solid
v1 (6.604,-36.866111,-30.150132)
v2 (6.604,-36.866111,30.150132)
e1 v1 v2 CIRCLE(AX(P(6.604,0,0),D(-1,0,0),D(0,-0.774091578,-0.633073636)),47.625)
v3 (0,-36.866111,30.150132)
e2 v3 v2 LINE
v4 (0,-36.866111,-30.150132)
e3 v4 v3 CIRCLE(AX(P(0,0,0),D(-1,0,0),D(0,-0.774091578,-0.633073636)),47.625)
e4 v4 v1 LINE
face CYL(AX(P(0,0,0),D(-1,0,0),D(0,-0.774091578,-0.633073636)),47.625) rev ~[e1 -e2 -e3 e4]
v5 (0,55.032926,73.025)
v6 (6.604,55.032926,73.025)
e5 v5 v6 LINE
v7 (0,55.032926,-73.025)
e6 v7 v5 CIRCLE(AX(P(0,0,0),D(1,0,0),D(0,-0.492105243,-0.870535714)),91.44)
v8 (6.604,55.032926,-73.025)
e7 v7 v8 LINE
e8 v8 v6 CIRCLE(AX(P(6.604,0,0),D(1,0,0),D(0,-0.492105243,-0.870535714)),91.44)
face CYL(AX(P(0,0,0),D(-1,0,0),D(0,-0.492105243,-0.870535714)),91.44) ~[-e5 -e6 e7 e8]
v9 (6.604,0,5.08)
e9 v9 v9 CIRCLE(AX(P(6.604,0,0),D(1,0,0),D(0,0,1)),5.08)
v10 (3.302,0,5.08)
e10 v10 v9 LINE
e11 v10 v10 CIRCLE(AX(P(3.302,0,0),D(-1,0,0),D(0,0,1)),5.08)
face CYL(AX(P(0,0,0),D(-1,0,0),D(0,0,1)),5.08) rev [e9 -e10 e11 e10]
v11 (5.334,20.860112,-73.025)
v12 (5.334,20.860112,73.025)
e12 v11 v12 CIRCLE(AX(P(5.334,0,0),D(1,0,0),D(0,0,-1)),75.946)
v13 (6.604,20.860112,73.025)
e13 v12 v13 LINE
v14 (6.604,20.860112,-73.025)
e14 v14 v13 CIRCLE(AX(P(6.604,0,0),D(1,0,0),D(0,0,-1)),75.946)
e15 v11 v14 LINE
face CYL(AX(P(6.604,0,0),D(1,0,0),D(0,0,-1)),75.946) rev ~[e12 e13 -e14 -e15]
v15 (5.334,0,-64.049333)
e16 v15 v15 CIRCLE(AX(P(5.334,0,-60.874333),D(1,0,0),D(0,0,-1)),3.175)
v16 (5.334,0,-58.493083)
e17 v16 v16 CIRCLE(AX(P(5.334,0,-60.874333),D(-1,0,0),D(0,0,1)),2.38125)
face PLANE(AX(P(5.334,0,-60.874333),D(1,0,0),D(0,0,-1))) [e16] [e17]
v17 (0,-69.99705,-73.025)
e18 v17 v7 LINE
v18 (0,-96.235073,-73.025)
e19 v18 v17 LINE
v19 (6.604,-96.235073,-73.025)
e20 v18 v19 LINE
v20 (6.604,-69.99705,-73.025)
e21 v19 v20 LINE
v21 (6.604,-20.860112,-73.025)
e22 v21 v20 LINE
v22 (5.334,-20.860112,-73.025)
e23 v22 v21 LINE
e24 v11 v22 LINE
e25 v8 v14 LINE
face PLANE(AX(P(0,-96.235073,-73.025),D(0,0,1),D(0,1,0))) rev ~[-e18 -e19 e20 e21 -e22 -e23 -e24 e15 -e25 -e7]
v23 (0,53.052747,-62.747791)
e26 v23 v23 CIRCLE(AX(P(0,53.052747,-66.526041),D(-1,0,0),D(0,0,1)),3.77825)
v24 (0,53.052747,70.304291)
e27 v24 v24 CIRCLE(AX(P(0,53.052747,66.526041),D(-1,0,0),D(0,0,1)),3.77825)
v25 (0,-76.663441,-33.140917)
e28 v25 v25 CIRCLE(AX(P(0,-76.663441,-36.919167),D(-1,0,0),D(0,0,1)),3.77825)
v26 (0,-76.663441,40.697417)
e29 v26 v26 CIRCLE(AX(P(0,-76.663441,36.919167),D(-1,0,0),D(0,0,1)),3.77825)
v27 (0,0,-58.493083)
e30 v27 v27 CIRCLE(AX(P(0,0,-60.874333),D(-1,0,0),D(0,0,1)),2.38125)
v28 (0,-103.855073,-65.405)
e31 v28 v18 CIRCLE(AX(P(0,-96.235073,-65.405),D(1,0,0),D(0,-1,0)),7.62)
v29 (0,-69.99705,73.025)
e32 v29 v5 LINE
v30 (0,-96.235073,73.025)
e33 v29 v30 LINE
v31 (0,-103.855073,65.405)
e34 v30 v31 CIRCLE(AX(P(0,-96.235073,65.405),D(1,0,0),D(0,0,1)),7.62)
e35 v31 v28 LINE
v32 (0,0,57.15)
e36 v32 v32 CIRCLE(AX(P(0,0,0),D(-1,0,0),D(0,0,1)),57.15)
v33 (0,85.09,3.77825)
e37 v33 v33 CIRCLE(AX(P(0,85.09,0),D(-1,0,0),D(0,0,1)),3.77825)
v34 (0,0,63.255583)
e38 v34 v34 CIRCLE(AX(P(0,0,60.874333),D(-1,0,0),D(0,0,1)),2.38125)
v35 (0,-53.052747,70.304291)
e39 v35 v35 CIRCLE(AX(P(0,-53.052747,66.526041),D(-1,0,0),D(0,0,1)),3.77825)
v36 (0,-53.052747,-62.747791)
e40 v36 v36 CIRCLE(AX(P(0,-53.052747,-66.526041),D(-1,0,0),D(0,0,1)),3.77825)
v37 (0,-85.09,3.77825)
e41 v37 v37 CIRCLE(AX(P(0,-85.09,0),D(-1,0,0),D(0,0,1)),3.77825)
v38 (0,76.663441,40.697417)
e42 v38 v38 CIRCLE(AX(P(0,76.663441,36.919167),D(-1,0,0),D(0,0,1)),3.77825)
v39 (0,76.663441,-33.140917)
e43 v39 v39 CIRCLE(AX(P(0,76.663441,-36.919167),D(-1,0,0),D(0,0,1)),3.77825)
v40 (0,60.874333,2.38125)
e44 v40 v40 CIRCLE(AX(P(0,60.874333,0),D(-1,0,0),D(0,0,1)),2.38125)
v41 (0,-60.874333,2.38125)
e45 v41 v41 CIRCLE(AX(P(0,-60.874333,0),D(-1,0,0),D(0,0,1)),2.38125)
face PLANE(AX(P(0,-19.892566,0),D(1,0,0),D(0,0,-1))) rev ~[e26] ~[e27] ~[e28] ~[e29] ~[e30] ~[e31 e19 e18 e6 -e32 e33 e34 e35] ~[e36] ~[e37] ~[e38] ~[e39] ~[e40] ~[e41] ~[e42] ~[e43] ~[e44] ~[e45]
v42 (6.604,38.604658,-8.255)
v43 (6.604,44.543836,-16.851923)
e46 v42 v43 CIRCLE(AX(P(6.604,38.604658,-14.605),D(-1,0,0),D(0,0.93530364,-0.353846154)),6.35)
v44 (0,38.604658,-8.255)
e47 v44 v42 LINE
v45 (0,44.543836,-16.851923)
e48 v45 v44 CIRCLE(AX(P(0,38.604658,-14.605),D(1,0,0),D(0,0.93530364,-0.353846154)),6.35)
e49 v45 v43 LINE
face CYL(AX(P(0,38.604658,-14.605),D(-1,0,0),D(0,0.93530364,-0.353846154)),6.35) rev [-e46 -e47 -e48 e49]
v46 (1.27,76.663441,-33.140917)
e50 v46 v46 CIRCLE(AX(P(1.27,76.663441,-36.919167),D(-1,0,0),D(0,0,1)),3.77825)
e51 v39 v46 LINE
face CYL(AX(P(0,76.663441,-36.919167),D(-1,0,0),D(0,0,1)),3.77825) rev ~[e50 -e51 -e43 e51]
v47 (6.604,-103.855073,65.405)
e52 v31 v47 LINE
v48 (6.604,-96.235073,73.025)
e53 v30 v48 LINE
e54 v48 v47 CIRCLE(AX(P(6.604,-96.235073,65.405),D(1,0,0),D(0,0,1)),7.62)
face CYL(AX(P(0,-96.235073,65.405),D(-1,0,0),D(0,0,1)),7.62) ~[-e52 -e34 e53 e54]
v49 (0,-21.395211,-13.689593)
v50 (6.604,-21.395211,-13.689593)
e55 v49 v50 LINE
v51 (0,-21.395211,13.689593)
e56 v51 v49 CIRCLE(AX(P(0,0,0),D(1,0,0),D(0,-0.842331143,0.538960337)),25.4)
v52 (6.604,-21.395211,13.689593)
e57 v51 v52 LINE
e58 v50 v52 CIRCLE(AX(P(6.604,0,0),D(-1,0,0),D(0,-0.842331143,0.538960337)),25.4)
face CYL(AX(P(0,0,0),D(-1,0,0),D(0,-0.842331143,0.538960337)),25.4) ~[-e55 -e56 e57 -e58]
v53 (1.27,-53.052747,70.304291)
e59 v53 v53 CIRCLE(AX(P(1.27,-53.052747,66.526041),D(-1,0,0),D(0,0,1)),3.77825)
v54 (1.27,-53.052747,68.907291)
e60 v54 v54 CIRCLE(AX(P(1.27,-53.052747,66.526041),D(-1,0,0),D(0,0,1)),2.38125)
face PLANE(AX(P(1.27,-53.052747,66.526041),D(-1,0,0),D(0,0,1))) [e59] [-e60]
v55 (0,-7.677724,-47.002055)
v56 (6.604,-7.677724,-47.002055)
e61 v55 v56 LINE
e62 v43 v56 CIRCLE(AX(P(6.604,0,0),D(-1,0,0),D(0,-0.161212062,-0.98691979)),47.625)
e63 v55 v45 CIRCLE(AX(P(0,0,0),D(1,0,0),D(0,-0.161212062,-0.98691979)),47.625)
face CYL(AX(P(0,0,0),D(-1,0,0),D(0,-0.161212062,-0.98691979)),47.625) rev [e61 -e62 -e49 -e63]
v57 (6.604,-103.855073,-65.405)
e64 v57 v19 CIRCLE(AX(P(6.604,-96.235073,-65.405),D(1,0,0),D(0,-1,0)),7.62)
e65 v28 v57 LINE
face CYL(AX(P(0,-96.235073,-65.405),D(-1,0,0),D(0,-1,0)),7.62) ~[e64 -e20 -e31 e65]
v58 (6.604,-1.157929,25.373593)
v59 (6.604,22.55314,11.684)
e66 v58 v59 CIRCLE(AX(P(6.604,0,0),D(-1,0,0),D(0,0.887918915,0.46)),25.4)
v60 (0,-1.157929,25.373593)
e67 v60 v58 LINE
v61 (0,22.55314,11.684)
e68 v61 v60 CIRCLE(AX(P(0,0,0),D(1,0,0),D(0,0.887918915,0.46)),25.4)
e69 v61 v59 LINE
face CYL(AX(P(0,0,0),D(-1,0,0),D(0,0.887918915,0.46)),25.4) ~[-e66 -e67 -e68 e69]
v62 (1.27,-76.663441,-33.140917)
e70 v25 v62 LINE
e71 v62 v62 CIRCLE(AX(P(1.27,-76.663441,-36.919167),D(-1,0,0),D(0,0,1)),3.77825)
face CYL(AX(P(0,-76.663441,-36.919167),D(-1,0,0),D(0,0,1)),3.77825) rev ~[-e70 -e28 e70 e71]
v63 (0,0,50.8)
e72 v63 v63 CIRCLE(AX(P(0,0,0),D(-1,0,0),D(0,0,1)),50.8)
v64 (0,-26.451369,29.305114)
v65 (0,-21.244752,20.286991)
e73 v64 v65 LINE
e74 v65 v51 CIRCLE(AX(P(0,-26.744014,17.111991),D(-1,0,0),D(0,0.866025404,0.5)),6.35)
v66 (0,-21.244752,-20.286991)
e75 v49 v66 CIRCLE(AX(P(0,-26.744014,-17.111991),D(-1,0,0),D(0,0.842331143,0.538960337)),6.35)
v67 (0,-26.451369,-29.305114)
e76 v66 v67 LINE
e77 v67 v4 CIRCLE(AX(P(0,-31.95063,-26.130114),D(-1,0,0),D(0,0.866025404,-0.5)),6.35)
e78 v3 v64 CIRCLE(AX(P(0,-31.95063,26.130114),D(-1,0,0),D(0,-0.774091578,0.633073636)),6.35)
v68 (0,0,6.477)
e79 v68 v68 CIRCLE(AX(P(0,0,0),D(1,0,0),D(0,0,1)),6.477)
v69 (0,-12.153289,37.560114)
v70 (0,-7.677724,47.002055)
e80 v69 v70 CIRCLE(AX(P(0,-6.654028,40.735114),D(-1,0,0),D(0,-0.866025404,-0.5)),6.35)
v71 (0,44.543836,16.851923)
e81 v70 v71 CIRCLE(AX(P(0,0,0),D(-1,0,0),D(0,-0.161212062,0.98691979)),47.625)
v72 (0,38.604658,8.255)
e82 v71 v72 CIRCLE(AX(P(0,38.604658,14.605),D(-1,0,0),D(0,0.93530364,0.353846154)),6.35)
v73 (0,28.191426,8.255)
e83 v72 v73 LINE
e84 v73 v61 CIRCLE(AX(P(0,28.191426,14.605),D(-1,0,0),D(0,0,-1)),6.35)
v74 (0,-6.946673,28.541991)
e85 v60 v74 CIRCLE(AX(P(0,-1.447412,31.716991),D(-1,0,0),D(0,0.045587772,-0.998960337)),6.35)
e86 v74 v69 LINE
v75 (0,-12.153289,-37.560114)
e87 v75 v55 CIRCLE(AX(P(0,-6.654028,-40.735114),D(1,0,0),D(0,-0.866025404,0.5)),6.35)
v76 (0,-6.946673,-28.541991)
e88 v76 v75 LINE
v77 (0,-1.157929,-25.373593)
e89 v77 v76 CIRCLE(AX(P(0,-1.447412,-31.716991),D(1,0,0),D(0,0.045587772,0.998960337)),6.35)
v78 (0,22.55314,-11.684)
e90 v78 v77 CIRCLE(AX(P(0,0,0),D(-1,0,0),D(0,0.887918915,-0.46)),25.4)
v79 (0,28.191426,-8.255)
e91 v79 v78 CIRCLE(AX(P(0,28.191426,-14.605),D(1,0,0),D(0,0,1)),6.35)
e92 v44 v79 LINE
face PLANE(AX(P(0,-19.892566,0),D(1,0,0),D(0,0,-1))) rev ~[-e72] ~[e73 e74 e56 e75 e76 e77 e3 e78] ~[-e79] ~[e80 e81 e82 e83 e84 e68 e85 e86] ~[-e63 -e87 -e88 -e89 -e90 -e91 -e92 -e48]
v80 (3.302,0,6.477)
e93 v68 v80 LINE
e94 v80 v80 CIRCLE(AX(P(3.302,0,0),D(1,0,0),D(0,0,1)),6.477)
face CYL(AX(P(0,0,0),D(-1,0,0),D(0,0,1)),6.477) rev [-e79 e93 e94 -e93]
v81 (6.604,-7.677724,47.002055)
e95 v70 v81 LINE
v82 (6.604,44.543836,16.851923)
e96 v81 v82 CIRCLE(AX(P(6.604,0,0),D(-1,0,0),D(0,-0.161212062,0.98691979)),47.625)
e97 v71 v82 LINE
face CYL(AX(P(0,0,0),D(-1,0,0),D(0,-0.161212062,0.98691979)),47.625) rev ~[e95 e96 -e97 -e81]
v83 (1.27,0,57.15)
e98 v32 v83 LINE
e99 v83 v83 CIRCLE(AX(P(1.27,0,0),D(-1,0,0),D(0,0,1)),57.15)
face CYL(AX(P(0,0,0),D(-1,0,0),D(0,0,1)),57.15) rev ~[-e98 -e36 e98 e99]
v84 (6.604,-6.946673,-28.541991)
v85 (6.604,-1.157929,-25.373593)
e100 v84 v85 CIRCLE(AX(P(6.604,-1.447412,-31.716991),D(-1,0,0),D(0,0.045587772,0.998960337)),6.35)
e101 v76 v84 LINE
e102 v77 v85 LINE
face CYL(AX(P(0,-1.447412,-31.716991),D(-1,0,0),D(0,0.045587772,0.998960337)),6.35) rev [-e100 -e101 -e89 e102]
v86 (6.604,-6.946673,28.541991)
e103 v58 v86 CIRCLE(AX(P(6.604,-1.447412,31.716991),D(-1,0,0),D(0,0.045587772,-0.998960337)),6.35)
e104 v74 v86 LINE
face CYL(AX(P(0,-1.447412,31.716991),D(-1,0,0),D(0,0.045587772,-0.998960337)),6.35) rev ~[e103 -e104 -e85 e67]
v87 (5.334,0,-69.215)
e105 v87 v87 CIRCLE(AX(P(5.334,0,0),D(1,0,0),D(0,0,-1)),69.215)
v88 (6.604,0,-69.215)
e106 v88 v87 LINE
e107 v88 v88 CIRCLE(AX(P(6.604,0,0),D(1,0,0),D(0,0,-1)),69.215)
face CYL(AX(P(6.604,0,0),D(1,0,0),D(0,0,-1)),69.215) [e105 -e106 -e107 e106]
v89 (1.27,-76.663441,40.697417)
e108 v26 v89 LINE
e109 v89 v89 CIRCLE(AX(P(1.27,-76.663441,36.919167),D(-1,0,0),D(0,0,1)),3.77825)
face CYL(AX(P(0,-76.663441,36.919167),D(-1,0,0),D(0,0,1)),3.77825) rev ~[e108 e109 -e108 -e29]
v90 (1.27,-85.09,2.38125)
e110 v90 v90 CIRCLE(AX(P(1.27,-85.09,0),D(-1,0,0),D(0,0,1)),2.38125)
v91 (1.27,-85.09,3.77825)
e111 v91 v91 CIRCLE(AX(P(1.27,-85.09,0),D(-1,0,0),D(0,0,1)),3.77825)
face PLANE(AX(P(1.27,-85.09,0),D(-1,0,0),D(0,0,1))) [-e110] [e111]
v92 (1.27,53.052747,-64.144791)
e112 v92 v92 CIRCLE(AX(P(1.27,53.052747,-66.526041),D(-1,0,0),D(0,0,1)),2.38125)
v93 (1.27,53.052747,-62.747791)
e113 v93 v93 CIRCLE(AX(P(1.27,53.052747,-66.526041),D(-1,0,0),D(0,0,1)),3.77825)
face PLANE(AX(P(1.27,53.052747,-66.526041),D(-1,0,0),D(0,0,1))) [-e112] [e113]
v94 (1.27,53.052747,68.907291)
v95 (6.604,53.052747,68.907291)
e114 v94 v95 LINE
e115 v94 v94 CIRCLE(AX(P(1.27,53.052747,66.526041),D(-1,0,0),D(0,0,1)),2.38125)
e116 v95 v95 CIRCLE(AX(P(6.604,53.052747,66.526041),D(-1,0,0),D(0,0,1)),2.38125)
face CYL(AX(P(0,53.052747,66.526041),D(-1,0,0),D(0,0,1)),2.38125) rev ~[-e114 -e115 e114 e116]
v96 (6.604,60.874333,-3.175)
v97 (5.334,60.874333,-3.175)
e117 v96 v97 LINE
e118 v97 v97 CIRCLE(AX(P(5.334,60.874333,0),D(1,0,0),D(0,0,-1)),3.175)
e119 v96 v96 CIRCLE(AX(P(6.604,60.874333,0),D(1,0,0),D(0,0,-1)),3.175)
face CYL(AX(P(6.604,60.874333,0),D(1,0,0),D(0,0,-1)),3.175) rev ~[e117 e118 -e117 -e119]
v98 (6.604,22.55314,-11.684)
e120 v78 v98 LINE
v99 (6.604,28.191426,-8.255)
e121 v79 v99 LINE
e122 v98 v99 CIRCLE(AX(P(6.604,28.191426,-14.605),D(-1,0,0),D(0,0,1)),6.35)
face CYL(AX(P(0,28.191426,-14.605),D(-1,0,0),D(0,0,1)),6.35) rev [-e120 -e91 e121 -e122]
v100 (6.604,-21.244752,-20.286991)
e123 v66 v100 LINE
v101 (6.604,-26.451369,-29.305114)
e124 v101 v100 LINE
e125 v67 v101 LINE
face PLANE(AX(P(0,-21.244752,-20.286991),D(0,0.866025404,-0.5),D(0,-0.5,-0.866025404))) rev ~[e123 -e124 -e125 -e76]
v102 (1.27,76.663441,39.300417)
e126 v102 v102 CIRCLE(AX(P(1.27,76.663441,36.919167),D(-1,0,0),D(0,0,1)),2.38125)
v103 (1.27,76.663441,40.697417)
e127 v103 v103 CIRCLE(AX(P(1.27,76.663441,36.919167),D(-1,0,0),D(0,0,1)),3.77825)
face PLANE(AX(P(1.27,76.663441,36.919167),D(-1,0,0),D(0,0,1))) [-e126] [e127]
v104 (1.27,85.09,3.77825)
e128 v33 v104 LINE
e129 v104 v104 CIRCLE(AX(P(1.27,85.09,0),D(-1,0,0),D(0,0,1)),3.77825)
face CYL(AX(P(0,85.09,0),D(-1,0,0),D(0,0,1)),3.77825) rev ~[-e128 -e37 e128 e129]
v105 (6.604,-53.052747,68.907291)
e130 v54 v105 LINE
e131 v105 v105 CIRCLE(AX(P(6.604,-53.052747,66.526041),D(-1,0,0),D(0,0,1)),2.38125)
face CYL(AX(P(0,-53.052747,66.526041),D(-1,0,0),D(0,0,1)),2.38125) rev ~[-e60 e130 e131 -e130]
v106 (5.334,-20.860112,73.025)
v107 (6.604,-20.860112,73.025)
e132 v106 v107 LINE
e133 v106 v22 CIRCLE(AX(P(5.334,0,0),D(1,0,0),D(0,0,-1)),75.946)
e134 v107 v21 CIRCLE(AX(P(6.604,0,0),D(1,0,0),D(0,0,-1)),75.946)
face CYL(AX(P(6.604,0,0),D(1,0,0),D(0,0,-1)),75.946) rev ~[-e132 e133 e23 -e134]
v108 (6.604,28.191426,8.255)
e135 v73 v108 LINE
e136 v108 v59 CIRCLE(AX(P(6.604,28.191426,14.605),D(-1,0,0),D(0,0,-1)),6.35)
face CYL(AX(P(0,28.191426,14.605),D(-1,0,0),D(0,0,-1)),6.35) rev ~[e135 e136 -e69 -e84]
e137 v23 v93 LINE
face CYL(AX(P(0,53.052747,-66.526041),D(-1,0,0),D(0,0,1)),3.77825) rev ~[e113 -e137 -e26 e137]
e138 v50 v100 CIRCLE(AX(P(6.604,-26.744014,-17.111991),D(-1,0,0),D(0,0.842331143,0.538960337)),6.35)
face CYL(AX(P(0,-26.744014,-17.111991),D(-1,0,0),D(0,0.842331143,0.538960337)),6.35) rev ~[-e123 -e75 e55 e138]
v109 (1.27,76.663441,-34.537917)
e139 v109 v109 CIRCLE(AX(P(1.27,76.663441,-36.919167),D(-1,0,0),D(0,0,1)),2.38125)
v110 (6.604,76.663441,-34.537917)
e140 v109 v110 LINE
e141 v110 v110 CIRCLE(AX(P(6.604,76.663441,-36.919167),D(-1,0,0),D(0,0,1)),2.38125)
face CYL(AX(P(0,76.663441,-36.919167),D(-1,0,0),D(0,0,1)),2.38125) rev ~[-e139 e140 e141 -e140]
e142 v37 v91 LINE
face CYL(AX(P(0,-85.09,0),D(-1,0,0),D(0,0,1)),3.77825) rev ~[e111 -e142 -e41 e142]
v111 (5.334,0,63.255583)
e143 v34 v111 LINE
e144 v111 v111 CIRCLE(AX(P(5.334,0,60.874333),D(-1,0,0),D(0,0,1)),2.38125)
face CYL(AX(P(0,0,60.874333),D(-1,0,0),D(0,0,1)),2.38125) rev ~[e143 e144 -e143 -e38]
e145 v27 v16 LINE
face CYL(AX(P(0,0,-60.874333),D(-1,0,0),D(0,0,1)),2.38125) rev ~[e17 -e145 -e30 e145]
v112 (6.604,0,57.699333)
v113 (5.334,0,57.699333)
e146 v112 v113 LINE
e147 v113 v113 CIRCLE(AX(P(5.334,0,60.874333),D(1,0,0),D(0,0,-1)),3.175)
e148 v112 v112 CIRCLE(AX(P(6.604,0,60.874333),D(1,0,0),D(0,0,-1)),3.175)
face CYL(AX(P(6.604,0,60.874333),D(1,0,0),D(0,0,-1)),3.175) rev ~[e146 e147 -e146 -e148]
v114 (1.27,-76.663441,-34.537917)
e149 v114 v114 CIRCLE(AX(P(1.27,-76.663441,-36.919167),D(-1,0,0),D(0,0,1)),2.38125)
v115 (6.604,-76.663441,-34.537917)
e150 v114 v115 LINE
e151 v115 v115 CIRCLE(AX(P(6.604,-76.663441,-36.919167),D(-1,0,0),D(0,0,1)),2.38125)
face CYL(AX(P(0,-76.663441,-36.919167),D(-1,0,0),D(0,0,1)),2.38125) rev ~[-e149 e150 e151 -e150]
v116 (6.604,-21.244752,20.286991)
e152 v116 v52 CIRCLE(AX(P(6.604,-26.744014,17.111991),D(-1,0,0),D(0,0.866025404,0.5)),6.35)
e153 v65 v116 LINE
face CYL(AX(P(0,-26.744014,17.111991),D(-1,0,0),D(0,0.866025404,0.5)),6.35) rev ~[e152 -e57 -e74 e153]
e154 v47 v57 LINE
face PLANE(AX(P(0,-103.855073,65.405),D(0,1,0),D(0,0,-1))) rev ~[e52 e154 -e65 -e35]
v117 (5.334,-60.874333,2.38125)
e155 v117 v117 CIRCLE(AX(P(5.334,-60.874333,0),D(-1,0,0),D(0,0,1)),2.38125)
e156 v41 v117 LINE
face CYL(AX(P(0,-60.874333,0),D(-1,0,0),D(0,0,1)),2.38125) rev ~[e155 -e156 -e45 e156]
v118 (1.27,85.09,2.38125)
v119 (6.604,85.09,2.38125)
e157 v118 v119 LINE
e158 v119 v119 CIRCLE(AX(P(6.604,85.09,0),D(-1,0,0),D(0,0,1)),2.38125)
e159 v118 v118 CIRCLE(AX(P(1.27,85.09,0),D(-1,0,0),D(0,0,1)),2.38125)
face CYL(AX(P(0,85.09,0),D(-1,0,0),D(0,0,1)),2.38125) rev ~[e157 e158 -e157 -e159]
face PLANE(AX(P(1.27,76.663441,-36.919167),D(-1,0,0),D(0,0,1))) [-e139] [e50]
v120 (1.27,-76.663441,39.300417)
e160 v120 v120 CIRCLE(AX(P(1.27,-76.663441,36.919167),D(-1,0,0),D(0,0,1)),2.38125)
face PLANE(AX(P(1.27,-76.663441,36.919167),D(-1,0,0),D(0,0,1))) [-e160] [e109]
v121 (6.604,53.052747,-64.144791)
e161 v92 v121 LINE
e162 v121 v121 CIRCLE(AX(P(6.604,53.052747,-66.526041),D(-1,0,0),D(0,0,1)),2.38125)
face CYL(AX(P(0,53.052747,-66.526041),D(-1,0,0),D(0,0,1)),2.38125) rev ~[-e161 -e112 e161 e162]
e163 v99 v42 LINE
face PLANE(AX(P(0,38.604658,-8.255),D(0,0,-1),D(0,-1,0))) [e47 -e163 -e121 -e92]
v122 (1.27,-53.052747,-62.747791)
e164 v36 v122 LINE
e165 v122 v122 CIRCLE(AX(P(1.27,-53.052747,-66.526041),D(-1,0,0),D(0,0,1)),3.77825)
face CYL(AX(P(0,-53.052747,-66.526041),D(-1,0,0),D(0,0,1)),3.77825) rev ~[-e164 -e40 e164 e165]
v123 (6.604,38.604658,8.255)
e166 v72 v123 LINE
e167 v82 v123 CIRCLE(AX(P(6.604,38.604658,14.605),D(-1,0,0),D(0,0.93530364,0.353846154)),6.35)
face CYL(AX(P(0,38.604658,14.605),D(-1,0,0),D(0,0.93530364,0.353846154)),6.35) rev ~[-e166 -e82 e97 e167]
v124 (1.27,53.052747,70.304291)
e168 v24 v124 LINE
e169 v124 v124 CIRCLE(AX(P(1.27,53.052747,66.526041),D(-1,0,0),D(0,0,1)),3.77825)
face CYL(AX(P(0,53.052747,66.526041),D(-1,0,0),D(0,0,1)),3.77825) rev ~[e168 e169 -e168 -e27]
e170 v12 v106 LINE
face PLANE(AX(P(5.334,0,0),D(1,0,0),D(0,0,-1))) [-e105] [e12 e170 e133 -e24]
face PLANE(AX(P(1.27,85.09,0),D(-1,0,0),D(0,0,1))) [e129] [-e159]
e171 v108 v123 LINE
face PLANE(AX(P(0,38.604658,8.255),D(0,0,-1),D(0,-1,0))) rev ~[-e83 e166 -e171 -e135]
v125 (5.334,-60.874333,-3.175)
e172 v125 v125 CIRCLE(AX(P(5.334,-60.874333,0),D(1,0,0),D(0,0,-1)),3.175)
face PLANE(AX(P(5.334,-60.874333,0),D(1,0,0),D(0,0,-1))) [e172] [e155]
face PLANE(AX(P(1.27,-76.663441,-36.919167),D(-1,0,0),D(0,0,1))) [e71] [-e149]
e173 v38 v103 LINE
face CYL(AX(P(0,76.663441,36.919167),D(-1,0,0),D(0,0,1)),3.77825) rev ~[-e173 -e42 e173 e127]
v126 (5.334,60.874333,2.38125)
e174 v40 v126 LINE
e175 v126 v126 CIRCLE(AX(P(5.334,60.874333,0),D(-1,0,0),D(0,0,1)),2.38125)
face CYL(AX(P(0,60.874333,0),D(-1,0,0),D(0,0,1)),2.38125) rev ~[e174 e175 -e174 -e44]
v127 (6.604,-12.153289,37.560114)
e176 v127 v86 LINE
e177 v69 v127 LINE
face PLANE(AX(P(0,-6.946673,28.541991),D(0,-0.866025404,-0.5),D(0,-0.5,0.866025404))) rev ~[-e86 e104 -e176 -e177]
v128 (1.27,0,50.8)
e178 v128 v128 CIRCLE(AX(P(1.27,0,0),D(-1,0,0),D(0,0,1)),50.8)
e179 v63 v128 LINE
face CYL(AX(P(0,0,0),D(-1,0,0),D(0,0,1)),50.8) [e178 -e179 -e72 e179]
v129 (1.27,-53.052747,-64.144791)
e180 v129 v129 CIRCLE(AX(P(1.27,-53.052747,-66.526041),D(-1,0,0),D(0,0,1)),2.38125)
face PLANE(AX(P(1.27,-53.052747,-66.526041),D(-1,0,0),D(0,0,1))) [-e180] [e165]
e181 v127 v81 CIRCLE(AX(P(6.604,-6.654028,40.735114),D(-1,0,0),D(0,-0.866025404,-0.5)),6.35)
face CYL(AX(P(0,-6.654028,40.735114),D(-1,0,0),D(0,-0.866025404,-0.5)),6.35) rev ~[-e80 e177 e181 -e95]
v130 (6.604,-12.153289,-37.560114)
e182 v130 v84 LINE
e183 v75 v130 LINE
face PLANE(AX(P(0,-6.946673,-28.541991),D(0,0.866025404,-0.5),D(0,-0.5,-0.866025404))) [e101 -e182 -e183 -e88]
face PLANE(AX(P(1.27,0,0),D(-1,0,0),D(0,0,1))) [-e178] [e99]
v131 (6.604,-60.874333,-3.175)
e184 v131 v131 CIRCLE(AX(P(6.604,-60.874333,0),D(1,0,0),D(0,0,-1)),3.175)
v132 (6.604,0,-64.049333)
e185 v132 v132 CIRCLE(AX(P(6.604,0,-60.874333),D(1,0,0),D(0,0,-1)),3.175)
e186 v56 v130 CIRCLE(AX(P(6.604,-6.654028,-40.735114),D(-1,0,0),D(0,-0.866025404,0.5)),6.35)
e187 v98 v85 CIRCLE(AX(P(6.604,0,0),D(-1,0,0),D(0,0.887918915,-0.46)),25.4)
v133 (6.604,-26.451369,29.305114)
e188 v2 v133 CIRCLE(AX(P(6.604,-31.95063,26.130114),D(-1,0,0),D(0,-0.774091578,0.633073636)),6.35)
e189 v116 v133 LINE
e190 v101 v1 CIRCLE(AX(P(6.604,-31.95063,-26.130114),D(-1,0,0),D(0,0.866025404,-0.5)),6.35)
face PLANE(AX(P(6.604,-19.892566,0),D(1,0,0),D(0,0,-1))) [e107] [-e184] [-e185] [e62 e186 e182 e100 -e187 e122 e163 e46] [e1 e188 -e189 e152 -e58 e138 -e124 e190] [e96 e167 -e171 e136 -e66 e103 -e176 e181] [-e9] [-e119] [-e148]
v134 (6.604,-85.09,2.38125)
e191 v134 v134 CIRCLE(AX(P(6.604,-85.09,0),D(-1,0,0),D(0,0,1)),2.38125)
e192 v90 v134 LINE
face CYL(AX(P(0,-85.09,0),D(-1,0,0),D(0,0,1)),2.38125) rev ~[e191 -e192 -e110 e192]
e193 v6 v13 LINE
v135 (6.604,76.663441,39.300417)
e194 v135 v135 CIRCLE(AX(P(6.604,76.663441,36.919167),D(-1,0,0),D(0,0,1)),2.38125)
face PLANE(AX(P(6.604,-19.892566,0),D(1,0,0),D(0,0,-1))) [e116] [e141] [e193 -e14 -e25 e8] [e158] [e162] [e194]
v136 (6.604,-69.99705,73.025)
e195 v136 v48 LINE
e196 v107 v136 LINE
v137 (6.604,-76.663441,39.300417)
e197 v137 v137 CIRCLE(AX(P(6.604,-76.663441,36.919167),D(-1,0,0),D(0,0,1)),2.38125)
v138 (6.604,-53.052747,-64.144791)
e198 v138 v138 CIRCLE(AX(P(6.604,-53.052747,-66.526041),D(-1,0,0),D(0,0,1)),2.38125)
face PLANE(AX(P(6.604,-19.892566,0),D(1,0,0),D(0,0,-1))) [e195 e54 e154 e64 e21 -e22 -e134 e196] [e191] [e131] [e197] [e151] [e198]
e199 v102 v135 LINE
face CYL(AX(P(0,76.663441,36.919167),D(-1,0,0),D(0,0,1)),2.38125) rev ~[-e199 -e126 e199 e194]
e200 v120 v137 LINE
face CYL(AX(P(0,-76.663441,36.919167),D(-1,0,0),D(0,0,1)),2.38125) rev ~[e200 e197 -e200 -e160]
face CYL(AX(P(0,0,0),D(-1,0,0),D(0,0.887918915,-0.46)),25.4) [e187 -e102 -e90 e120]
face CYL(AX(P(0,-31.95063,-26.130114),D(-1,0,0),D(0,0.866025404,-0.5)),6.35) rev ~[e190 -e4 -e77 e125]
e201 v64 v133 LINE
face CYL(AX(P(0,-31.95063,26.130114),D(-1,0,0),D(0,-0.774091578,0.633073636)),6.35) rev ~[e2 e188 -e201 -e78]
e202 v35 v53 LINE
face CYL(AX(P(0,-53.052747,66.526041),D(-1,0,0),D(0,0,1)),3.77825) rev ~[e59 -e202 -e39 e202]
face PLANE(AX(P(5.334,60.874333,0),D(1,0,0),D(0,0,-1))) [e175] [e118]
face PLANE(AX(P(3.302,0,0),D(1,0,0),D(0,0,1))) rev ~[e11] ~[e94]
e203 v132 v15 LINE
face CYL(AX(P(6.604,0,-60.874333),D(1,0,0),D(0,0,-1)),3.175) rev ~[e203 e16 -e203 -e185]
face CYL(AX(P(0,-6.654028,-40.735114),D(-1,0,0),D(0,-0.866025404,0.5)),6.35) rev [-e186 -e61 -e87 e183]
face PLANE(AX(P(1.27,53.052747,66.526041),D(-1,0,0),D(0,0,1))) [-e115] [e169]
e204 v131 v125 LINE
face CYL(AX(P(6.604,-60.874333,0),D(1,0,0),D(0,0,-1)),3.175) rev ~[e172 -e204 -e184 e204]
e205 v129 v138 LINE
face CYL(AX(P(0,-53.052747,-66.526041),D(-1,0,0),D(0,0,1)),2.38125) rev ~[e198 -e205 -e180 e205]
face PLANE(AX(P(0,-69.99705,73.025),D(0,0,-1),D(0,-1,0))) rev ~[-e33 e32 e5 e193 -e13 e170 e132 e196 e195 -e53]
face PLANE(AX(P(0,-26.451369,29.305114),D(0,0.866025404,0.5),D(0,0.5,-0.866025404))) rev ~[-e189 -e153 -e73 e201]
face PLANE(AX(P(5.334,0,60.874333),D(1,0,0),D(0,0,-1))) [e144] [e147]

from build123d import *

# Parameters (mm, degrees)
SKETCH1_R           = 5.08
BOSS_EXTRUDE1_DEPTH = 6.604
SKETCH2_R           = 6.477
CUT_EXTRUDE1_DEPTH  = 3.302
SKETCH3_R           = 75.946
SKETCH3_R_2         = 69.215
CUT_EXTRUDE2_DEPTH  = 1.27
SKETCH4_R           = 2.38125
CUT_EXTRUDE3_DEPTH  = 139.530727768
SKETCH5_R           = 3.77825
CUT_EXTRUDE4_DEPTH  = 1.27
CUT_EXTRUDE5_DEPTH  = 139.530727768
SKETCH10_R          = 57.15
SKETCH10_R_2        = 50.8
CUT_EXTRUDE6_DEPTH  = 1.27
SKETCH12_R          = 2.38125
CUT_EXTRUDE7_DEPTH  = 139.530727768
SKETCH15_R          = 3.175
CUT_EXTRUDE11_DEPTH = 1.27
SKETCH16_W          = 32.206831535
SKETCH16_H          = 125.02997604
SKETCH16_W_2        = 34.902507441
CUT_EXTRUDE12_DEPTH = 139.530727768


with BuildPart() as part:
    # Sketch1 → Boss-Extrude1 (new body)
    with BuildSketch(Plane(origin=(0, 0, 0), x_dir=(0, 0, -1), z_dir=(1, 0, 0))):
        with BuildLine():
            Line((-65.405, -103.855072673), (65.405, -103.855072673))
            ThreePointArc((65.405, -103.855072673), (70.793153673, -101.623226346), (73.025, -96.235072673))
            Line((73.025, -96.235072673), (73.025, -69.997049759))
            ThreePointArc((73.025, -69.997049759), (74.696702219, -57.072253546), (79.601785714, -44.998103417))
            ThreePointArc((79.601785714, -44.998103417), (0, 91.44), (-79.601785714, -44.998103417))
            ThreePointArc((-79.601785714, -44.998103417), (-74.696702219, -57.072253546), (-73.025, -69.997049759))
            Line((-73.025, -69.997049759), (-73.025, -96.235072673))
            ThreePointArc((-73.025, -96.235072673), (-70.793153673, -101.623226346), (-65.405, -103.855072673))
        make_face()
        with Locations(Location((0, 0, 0), (0, 0, 180))):
            Circle(SKETCH1_R, mode=Mode.SUBTRACT)
    extrude(amount=BOSS_EXTRUDE1_DEPTH)

    # Sketch2 → Cut-Extrude1 (cut)
    with BuildSketch(Plane(origin=(0, 0, 0), x_dir=(0, 0, -1), z_dir=(1, 0, 0))):
        with Locations(Location((0, 0, 0), (0, 0, 180))):
            Circle(SKETCH2_R)
    extrude(amount=CUT_EXTRUDE1_DEPTH, mode=Mode.SUBTRACT)

    # Sketch3 → Cut-Extrude2 (cut)
    with BuildSketch(Plane(origin=(6.604, 0, 0), x_dir=(0, 0, -1), z_dir=(1, 0, 0))):
        Circle(SKETCH3_R)
        Circle(SKETCH3_R_2, mode=Mode.SUBTRACT)
    extrude(amount=-CUT_EXTRUDE2_DEPTH, mode=Mode.SUBTRACT)

    # Sketch4 → Cut-Extrude3 (cut, through all)
    with BuildSketch(Plane.ZY):
        with Locations((-66.526040843, 53.05274724)):
            Circle(SKETCH4_R)
        with Locations((0, 85.09)):
            Circle(SKETCH4_R)
        with Locations((-36.919167362, 76.66344097)):
            Circle(SKETCH4_R)
        with Locations((36.919167362, 76.66344097)):
            Circle(SKETCH4_R)
        with Locations((66.526040843, 53.05274724)):
            Circle(SKETCH4_R)
        with Locations((82.956616048, 18.93430627)):
            Circle(SKETCH4_R)
        with Locations((82.956616048, -18.93430627)):
            Circle(SKETCH4_R)
        with Locations((66.526040843, -53.05274724)):
            Circle(SKETCH4_R)
        with Locations((36.919167362, -76.66344097)):
            Circle(SKETCH4_R)
        with Locations((0, -85.09)):
            Circle(SKETCH4_R)
        with Locations((-36.919167361, -76.66344097)):
            Circle(SKETCH4_R)
        with Locations((-66.526040843, -53.05274724)):
            Circle(SKETCH4_R)
        with Locations((-82.956616048, -18.93430627)):
            Circle(SKETCH4_R)
        with Locations((-82.956616048, 18.93430627)):
            Circle(SKETCH4_R)
    extrude(amount=-CUT_EXTRUDE3_DEPTH, mode=Mode.SUBTRACT)

    # Sketch5 → Cut-Extrude4 (cut)
    with BuildSketch(Plane.ZY):
        with Locations((0, 85.09)):
            Circle(SKETCH5_R)
        with Locations((-82.956616048, 18.93430627)):
            Circle(SKETCH5_R)
        with Locations((-66.526040843, 53.05274724)):
            Circle(SKETCH5_R)
        with Locations((36.919167362, 76.66344097)):
            Circle(SKETCH5_R)
        with Locations((-36.919167362, 76.66344097)):
            Circle(SKETCH5_R)
        with Locations((66.526040843, 53.05274724)):
            Circle(SKETCH5_R)
        with Locations((82.956616048, 18.93430627)):
            Circle(SKETCH5_R)
        with Locations((82.956616048, -18.93430627)):
            Circle(SKETCH5_R)
        with Locations((66.526040843, -53.05274724)):
            Circle(SKETCH5_R)
        with Locations((36.919167362, -76.66344097)):
            Circle(SKETCH5_R)
        with Locations((0, -85.09)):
            Circle(SKETCH5_R)
        with Locations((-36.919167362, -76.66344097)):
            Circle(SKETCH5_R)
        with Locations((-66.526040843, -53.05274724)):
            Circle(SKETCH5_R)
        with Locations((-82.956616048, -18.93430627)):
            Circle(SKETCH5_R)
    extrude(amount=-CUT_EXTRUDE4_DEPTH, mode=Mode.SUBTRACT)

    # Sketch9 → Cut-Extrude5 (cut, through all)
    with BuildSketch(Plane.ZY):
        with BuildLine():
            Line((-8.255, 38.60465775), (-8.255, 28.191425558))
            ThreePointArc((-8.255, 28.191425558), (-9.179557622, 24.89186877), (-11.684, 22.553140447))
            ThreePointArc((-11.684, 22.553140447), (-21.997045256, 12.7), (-25.373592562, -1.157929405))
            ThreePointArc((-25.373592562, -1.157929405), (-26.146769513, -4.496204289), (-28.541990702, -6.946673071))
            Line((-28.541990702, -6.946673071), (-37.560114316, -12.153289167))
            ThreePointArc((-37.560114316, -12.153289167), (-43.454984563, -12.392041955), (-47.00205498, -7.677724445))
            ThreePointArc((-47.00205498, -7.677724445), (-41.244459855, 23.8125), (-16.851923077, 44.543835865))
            ThreePointArc((-16.851923077, 44.543835865), (-10.995669144, 43.82914153), (-8.255, 38.60465775))
        make_face()
        with BuildLine():
            Line((8.255, 38.60465775), (8.255, 28.191425558))
            ThreePointArc((8.255, 28.191425558), (9.179557622, 24.89186877), (11.684, 22.553140447))
            ThreePointArc((11.684, 22.553140447), (21.997045256, 12.7), (25.373592562, -1.157929405))
            ThreePointArc((25.373592562, -1.157929405), (26.146769513, -4.496204289), (28.541990702, -6.946673071))
            Line((28.541990702, -6.946673071), (37.560114316, -12.153289167))
            ThreePointArc((37.560114316, -12.153289167), (43.454984563, -12.392041955), (47.00205498, -7.677724445))
            ThreePointArc((47.00205498, -7.677724445), (41.244459855, 23.8125), (16.851923077, 44.543835865))
            ThreePointArc((16.851923077, 44.543835865), (10.995669144, 43.82914153), (8.255, 38.60465775))
        make_face()
        with BuildLine():
            Line((29.305114316, -26.451368583), (20.286990702, -21.244752487))
            ThreePointArc((20.286990702, -21.244752487), (16.967211891, -20.395664481), (13.689592562, -21.395211041))
            ThreePointArc((13.689592562, -21.395211041), (0, -25.4), (-13.689592562, -21.395211041))
            ThreePointArc((-13.689592562, -21.395211041), (-16.967211891, -20.395664481), (-20.286990702, -21.244752487))
            Line((-20.286990702, -21.244752487), (-29.305114316, -26.451368583))
            ThreePointArc((-29.305114316, -26.451368583), (-32.459315419, -31.437099575), (-30.150131903, -36.86611142))
            ThreePointArc((-30.150131903, -36.86611142), (0, -47.625), (30.150131903, -36.86611142))
            ThreePointArc((30.150131903, -36.86611142), (32.459315419, -31.437099575), (29.305114316, -26.451368583))
        make_face()
    extrude(amount=-CUT_EXTRUDE5_DEPTH, mode=Mode.SUBTRACT)

    # Sketch10 → Cut-Extrude6 (cut)
    with BuildSketch(Plane.ZY):
        Circle(SKETCH10_R)
        Circle(SKETCH10_R_2, mode=Mode.SUBTRACT)
    extrude(amount=-CUT_EXTRUDE6_DEPTH, mode=Mode.SUBTRACT)

    # Sketch12 → Cut-Extrude7 (cut, through all)
    with BuildSketch(Plane.ZY):
        with Locations((0, 60.874333344)):
            Circle(SKETCH12_R)
        with Locations((60.874333344, 0)):
            Circle(SKETCH12_R)
        with Locations((0, -60.874333344)):
            Circle(SKETCH12_R)
        with Locations((-60.874333344, 0)):
            Circle(SKETCH12_R)
    extrude(amount=-CUT_EXTRUDE7_DEPTH, mode=Mode.SUBTRACT)

    # Sketch15 → Cut-Extrude11 (cut)
    with BuildSketch(Plane(origin=(6.604, 0, 0), x_dir=(0, 0, -1), z_dir=(1, 0, 0))):
        with Locations((0, 60.874333344)):
            Circle(SKETCH15_R)
        with Locations((60.874333344, 0)):
            Circle(SKETCH15_R)
        with Locations((0, -60.874333344)):
            Circle(SKETCH15_R)
        with Locations((-60.874333344, 0)):
            Circle(SKETCH15_R)
    extrude(amount=-CUT_EXTRUDE11_DEPTH, mode=Mode.SUBTRACT)

    # Sketch16 → Cut-Extrude12 (cut, through all)
    with BuildSketch(Plane.ZY):
        with Locations((-89.128415768, -7.482061739)):
            Rectangle(SKETCH16_W, SKETCH16_H)
        with Locations((90.476253721, -7.482061739)):
            Rectangle(SKETCH16_W_2, SKETCH16_H)
    extrude(amount=-CUT_EXTRUDE12_DEPTH, mode=Mode.SUBTRACT)


solid = part.part
